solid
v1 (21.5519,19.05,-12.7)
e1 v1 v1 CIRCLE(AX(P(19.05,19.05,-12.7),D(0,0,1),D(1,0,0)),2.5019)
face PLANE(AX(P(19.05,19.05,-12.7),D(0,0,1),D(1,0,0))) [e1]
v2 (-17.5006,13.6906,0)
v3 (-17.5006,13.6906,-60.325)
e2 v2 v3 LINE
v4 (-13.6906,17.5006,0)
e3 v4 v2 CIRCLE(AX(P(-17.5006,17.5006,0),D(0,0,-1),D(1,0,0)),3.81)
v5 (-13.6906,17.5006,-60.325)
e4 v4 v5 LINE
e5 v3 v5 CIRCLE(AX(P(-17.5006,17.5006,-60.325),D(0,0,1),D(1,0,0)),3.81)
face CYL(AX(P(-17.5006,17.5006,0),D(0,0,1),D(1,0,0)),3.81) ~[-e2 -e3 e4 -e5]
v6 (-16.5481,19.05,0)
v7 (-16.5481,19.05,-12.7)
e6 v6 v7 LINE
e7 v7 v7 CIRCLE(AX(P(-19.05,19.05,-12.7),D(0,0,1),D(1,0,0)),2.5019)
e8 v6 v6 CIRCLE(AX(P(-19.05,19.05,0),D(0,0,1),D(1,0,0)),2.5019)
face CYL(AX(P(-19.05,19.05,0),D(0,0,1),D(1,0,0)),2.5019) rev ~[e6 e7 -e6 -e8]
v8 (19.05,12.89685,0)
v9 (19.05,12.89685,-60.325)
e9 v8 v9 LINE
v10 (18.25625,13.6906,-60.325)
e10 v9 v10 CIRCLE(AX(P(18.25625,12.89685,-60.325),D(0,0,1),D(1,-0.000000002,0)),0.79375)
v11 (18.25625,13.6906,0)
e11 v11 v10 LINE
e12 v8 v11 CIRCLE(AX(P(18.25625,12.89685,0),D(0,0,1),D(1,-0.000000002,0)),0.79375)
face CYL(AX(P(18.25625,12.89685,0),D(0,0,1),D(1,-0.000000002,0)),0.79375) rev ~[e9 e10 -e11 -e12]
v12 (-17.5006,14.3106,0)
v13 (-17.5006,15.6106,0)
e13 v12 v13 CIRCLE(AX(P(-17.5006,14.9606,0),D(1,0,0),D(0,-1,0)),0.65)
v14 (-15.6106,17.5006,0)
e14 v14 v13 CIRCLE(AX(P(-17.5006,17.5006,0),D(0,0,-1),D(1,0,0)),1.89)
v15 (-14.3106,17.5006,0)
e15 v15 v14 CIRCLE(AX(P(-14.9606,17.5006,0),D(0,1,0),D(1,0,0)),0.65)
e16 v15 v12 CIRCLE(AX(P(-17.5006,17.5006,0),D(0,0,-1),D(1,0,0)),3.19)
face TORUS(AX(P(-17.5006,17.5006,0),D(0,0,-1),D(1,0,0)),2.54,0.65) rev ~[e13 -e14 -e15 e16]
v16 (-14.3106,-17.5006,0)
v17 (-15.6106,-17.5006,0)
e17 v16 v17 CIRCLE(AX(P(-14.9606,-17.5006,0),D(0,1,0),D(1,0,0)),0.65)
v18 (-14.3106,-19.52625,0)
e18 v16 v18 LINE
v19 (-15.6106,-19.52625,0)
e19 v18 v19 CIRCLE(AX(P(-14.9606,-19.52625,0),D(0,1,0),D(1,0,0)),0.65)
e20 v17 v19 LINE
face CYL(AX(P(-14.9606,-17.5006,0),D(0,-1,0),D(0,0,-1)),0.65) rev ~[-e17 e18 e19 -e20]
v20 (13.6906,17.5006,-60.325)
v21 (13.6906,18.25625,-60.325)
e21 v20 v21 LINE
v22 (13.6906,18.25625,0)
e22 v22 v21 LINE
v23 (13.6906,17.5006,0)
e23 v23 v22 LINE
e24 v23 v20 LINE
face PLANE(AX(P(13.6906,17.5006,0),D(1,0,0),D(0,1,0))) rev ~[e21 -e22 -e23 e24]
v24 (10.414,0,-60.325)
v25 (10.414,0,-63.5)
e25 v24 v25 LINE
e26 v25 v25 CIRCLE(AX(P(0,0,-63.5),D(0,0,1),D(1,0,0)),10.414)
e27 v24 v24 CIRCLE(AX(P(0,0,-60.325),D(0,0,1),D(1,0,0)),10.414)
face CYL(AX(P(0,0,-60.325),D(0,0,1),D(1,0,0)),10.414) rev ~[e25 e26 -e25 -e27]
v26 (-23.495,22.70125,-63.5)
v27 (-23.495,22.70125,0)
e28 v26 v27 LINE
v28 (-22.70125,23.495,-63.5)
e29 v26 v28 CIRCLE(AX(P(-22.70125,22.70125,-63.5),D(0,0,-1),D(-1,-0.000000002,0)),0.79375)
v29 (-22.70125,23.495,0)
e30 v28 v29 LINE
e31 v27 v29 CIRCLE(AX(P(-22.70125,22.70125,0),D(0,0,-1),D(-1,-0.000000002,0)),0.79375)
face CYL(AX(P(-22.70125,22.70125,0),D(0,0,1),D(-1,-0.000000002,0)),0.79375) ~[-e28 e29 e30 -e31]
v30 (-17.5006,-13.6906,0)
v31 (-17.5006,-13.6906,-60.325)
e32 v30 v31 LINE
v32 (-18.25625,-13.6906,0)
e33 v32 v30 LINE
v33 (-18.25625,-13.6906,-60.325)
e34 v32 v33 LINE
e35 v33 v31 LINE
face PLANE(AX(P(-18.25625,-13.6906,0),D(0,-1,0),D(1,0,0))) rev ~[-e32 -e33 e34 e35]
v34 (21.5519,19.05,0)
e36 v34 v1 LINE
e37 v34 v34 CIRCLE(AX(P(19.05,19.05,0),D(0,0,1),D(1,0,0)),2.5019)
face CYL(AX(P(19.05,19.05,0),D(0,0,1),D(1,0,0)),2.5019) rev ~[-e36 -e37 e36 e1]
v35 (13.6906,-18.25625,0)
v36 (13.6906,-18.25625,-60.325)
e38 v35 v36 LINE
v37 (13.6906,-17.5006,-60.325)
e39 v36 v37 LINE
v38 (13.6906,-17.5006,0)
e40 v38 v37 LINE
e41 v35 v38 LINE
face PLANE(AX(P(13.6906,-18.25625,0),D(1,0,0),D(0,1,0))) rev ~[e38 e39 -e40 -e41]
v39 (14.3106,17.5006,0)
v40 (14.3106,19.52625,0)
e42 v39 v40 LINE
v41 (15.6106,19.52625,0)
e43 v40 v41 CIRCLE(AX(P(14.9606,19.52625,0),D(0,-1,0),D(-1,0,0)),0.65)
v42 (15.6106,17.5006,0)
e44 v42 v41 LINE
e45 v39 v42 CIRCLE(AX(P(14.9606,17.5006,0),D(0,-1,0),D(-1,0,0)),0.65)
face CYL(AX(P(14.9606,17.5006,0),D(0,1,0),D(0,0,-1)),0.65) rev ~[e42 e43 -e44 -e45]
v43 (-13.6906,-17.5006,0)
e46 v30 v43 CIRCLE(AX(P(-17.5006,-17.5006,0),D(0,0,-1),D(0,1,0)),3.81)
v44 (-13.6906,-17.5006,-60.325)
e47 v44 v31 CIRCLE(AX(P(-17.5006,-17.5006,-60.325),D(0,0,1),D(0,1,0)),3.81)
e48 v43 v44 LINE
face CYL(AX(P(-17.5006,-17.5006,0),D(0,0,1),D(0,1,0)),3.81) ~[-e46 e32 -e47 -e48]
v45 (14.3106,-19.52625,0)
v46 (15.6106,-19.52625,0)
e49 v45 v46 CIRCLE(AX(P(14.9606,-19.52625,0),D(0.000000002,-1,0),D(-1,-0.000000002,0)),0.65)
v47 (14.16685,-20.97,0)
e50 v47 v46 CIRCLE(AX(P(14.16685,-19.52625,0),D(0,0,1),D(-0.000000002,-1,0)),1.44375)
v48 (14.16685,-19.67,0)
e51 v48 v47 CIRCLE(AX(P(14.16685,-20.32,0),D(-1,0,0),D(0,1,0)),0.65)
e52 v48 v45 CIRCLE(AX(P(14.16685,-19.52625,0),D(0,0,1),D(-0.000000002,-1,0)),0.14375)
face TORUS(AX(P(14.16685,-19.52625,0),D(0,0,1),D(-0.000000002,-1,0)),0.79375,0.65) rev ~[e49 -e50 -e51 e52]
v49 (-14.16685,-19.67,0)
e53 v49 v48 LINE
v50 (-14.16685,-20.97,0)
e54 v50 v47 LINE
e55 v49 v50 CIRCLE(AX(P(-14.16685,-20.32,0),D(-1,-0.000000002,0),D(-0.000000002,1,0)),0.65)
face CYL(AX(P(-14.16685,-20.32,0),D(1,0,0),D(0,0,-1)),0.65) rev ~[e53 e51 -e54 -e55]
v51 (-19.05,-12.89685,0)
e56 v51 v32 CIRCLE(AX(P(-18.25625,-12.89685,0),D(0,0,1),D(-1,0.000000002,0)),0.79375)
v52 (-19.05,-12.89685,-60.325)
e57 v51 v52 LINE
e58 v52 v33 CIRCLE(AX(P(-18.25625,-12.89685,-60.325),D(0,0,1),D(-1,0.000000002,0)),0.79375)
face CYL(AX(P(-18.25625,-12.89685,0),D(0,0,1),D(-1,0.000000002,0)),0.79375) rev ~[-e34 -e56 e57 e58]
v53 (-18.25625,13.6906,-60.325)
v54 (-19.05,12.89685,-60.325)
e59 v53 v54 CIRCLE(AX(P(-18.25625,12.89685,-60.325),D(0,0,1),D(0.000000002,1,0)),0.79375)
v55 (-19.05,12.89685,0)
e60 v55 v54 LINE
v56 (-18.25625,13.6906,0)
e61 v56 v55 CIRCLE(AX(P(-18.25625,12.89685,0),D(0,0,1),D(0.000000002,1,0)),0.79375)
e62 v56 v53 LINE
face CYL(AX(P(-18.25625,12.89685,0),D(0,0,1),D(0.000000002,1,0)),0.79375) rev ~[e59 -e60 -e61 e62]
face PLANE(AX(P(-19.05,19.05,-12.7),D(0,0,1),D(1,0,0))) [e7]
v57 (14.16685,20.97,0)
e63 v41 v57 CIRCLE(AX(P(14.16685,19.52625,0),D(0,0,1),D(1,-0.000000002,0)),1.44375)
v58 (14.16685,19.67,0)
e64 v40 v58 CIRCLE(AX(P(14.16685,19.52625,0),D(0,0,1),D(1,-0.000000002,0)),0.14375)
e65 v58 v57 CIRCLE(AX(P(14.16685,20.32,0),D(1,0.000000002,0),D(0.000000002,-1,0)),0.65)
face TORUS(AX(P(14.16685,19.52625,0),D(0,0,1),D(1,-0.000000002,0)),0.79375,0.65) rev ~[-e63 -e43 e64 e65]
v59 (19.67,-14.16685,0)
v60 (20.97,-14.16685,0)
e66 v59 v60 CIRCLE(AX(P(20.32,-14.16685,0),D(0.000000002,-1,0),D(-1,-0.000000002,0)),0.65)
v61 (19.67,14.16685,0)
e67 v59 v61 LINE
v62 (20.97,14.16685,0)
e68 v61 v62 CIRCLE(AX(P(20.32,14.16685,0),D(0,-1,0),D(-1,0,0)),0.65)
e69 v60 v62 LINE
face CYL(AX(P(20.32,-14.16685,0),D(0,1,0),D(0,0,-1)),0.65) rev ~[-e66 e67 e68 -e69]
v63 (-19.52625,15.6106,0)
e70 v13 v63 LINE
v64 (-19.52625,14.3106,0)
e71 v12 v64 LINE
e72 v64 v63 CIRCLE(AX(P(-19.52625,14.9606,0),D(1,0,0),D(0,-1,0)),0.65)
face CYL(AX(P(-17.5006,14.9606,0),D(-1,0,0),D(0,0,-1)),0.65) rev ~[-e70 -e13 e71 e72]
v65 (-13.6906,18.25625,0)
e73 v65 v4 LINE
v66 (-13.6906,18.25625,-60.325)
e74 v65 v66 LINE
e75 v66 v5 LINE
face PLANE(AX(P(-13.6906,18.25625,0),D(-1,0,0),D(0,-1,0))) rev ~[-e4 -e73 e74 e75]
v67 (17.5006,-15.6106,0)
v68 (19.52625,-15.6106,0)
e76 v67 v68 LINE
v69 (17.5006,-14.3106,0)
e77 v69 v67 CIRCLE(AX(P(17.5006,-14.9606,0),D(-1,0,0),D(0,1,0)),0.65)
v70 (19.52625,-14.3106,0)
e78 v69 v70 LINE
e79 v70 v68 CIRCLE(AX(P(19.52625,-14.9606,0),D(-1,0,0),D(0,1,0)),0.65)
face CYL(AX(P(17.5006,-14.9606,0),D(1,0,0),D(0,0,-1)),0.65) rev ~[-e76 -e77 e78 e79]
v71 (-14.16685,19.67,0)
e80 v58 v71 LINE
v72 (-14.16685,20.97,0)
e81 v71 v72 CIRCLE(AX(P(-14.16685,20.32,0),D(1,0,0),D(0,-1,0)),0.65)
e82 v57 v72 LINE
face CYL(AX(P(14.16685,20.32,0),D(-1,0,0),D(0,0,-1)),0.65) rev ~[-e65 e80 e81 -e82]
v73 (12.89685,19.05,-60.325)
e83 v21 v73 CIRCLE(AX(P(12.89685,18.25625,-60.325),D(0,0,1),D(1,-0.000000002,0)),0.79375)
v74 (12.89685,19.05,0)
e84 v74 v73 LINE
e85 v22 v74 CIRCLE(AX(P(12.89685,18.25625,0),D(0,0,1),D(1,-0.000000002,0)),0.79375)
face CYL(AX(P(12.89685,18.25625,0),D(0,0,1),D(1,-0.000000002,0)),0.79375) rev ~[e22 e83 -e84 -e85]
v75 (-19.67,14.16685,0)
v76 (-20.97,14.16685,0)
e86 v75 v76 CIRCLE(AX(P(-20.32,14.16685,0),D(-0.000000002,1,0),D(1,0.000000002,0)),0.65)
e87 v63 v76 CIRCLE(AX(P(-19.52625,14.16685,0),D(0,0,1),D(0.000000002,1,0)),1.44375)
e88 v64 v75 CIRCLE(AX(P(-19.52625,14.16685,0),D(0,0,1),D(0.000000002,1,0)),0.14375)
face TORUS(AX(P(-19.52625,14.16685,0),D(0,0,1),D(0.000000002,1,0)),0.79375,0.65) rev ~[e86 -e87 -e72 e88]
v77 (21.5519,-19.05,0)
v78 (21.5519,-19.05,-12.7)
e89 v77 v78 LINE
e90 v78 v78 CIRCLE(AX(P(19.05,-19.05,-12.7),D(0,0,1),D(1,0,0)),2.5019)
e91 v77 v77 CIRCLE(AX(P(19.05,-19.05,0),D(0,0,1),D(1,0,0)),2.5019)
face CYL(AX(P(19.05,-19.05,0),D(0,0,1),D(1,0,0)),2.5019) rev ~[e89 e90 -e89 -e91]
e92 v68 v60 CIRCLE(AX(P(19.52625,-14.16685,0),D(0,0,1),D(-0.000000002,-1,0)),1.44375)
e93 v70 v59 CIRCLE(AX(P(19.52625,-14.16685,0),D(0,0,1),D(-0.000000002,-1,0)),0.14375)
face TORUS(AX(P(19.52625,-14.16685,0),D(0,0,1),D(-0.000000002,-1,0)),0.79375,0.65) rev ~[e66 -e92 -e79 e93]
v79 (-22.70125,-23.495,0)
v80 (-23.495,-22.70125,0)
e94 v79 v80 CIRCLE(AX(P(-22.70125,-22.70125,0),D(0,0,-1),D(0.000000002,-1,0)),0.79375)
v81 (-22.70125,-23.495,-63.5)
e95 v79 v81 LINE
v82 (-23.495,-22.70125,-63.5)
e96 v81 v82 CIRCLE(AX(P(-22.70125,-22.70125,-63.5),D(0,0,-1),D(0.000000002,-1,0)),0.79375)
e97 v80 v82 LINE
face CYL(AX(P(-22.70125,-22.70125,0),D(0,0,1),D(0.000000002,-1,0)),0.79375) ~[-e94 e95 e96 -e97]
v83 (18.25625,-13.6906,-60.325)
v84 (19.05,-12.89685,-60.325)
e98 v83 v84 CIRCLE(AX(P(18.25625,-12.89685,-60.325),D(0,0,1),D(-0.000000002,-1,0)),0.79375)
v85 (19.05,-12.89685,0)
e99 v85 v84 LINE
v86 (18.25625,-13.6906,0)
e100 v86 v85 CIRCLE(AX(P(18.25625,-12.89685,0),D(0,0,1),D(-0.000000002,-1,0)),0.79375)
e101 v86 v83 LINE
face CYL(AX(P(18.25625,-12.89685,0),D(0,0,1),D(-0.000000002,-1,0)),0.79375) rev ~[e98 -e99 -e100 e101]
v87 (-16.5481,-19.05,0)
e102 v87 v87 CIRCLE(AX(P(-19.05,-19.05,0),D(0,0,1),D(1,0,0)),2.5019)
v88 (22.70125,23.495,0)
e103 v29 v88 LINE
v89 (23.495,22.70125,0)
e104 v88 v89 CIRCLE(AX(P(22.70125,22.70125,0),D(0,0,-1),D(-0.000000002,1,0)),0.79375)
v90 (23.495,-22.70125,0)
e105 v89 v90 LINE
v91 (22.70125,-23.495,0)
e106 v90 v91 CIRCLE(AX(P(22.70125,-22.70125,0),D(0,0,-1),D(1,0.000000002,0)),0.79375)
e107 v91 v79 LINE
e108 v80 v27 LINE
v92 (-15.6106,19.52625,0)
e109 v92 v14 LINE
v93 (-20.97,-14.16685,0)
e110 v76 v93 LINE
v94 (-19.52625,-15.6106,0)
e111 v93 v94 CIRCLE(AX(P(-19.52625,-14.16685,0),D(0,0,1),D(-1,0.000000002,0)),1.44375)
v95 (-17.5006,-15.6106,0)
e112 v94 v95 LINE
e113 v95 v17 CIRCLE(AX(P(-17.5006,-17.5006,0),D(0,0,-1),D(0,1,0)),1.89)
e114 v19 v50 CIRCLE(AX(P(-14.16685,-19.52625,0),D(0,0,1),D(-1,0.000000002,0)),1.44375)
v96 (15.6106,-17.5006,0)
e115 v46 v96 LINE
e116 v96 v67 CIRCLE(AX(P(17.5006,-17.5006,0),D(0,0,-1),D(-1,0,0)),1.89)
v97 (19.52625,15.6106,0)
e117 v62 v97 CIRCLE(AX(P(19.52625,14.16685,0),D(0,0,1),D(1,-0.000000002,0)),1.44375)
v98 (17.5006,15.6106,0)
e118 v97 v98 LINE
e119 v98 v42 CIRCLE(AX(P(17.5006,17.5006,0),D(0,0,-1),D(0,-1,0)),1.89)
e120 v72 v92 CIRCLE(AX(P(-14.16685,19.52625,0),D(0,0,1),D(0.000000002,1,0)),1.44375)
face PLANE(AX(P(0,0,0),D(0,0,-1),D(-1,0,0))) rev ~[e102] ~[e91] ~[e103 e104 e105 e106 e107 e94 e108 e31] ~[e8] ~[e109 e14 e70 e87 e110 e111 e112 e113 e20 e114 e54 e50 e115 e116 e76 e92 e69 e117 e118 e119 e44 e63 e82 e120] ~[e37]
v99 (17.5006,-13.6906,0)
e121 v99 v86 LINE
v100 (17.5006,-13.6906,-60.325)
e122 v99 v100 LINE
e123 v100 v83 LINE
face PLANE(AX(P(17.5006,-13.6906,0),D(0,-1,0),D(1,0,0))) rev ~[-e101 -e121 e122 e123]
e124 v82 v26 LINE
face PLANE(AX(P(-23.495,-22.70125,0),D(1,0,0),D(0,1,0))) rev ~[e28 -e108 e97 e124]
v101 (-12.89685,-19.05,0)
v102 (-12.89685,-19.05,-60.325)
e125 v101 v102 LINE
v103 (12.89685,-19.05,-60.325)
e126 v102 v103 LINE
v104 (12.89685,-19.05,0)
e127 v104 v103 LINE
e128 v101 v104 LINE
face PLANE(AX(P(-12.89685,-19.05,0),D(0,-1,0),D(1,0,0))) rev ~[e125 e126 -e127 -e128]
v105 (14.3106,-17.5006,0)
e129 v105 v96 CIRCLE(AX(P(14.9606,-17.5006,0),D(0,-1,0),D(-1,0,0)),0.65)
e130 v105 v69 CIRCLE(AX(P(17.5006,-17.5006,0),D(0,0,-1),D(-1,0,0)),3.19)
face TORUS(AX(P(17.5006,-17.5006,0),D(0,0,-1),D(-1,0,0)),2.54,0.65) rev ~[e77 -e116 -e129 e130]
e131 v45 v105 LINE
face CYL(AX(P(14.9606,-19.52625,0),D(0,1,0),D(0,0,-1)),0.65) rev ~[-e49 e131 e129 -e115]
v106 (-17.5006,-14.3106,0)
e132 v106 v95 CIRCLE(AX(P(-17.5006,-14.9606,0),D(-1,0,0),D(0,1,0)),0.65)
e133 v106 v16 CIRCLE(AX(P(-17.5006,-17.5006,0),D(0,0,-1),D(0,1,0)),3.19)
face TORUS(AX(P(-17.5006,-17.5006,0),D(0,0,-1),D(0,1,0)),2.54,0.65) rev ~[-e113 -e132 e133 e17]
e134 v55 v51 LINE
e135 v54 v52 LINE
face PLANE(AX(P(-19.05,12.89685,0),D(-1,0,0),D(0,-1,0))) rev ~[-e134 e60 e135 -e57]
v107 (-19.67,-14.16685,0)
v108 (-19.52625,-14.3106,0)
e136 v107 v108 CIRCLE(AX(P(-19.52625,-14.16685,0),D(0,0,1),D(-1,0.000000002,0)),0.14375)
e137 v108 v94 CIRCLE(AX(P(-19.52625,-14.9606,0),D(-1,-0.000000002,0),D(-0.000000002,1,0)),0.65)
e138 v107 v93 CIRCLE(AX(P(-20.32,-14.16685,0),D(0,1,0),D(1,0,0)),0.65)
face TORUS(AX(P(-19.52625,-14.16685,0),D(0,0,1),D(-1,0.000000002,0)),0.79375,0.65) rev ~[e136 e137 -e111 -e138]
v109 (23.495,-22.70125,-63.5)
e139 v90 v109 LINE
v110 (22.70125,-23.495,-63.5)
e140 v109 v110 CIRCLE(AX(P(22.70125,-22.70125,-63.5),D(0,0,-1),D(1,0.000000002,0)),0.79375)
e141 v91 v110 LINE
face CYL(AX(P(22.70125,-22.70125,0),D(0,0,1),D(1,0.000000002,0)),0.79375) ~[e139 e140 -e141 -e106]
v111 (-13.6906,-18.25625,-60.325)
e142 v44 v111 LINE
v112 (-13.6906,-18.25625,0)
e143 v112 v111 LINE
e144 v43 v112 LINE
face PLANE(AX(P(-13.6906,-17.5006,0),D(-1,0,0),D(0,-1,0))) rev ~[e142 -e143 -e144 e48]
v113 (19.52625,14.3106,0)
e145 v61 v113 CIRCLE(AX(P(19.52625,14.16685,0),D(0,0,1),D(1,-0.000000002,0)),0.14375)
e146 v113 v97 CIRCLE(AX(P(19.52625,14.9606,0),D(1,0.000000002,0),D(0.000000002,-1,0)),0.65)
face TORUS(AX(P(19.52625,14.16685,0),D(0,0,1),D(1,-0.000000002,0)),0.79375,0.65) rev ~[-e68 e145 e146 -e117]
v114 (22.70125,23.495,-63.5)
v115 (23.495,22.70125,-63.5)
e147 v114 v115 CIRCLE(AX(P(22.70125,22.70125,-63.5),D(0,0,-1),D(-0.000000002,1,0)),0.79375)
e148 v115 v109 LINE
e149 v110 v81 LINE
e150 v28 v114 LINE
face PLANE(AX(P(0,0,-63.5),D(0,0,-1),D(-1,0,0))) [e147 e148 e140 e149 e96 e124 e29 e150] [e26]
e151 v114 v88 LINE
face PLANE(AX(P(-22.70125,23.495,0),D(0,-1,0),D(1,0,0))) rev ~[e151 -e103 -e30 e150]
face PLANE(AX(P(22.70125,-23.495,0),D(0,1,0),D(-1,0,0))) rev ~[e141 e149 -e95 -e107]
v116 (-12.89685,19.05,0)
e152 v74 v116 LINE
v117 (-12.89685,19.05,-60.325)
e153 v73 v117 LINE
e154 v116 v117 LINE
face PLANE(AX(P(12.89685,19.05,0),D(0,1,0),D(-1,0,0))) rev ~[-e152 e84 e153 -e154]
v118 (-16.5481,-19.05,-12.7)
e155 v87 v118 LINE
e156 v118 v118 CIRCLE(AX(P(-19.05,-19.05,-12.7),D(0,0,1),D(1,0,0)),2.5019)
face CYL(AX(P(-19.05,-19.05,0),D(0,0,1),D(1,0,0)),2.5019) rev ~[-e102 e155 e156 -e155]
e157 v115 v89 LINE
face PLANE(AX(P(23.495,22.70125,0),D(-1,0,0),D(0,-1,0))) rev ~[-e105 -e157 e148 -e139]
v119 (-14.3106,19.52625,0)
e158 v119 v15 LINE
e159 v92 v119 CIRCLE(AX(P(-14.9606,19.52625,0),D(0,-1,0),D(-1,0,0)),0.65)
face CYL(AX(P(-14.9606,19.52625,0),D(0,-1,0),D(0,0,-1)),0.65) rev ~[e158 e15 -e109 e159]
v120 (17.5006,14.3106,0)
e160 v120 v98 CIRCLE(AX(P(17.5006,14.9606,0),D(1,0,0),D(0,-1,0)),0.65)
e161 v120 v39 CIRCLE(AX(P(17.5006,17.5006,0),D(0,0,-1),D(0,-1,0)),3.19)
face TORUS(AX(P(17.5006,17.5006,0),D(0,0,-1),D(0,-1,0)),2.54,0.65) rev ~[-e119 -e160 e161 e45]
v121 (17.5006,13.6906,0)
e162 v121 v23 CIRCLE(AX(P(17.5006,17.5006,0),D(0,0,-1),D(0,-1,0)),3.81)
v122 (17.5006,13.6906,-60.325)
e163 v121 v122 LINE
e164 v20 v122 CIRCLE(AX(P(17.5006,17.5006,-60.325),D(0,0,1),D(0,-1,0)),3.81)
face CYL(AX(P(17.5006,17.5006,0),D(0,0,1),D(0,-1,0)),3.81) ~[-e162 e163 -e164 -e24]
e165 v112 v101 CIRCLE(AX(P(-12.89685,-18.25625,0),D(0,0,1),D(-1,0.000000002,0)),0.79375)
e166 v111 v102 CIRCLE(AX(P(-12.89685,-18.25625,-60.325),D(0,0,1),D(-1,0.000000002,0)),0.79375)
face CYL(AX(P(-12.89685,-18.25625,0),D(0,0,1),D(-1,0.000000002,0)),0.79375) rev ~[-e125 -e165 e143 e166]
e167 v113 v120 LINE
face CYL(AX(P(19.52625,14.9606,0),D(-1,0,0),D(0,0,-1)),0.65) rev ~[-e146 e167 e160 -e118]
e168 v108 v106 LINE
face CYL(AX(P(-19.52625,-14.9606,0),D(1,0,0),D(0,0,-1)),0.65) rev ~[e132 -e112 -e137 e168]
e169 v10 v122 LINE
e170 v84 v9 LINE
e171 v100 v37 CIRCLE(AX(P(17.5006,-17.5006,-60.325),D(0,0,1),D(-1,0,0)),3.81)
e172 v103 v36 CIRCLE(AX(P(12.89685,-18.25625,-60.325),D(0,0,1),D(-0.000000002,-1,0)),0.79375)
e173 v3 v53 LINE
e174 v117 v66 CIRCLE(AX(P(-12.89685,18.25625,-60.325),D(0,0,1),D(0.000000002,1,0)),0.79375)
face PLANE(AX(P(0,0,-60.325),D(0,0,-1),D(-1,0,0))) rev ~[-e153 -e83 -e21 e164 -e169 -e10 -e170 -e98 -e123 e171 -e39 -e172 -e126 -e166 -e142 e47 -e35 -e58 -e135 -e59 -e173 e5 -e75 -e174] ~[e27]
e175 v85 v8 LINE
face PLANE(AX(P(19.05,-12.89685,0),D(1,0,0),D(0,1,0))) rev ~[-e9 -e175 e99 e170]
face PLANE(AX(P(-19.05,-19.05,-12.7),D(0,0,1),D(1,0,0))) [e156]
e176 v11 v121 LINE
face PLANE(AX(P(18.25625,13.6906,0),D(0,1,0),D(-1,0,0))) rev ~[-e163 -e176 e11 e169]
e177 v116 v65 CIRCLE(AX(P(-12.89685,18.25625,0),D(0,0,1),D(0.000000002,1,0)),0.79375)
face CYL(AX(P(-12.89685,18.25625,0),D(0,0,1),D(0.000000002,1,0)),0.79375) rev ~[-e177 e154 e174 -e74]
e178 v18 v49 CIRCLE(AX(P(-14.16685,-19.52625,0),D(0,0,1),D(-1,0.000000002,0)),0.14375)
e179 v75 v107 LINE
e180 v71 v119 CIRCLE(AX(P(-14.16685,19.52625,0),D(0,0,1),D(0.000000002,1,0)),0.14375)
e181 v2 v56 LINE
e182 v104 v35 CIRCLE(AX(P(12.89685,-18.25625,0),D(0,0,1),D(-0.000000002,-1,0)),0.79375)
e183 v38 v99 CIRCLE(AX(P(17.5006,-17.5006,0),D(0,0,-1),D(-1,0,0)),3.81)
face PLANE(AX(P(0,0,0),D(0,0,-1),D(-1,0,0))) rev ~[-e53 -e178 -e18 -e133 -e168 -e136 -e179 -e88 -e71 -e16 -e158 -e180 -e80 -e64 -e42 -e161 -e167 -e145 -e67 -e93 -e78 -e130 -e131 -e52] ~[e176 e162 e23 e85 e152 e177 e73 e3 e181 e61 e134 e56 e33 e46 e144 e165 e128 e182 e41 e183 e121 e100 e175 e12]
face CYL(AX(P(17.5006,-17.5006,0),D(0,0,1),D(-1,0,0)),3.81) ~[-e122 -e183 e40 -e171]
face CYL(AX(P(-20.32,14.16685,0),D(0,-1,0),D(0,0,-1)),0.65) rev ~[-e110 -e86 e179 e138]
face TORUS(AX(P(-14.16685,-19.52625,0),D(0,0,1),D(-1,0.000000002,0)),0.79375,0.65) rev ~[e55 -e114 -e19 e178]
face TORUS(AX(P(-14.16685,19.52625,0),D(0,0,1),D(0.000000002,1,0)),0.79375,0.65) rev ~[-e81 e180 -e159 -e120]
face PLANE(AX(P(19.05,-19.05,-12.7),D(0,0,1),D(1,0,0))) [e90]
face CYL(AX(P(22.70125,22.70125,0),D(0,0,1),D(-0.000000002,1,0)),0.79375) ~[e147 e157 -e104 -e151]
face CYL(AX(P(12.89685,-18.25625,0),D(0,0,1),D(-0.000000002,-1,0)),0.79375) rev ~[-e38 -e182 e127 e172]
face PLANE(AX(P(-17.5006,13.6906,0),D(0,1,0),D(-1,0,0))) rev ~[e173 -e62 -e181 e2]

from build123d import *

# Parameters (mm, degrees)
BOSS_EXTRUDE1_DEPTH = 63.5
SKETCH7_R           = 0.65
SKETCH10_R          = 2.5019
CUT_EXTRUDE3_DEPTH  = 12.7
BOSS_EXTRUDE2_START = -60.325
SKETCH12_R          = 10.414
BOSS_EXTRUDE2_DEPTH = 3.175


with BuildPart() as part:
    # Sketch1 → Boss-Extrude1 (new body)
    with BuildSketch(Plane.XY):
        with BuildLine():
            Line((23.495, 22.70125), (23.495, -22.70125))
            ThreePointArc((23.495, -22.70125), (23.262516008, -23.262516008), (22.70125, -23.495))
            Line((22.70125, -23.495), (-22.70125, -23.495))
            ThreePointArc((-22.70125, -23.495), (-23.262516008, -23.262516008), (-23.495, -22.70125))
            Line((-23.495, -22.70125), (-23.495, 22.70125))
            ThreePointArc((-23.495, 22.70125), (-23.262516008, 23.262516008), (-22.70125, 23.495))
            Line((-22.70125, 23.495), (22.70125, 23.495))
            ThreePointArc((22.70125, 23.495), (23.262516008, 23.262516008), (23.495, 22.70125))
        make_face()
        with BuildLine():
            Line((-12.89685, -19.05), (12.89685, -19.05))
            ThreePointArc((12.89685, -19.05), (13.458116008, -18.817516008), (13.6906, -18.25625))
            Line((13.6906, -18.25625), (13.6906, -17.5006))
            ThreePointArc((13.6906, -17.5006), (14.806523164, -14.806523164), (17.5006, -13.6906))
            Line((17.5006, -13.6906), (18.25625, -13.6906))
            ThreePointArc((18.25625, -13.6906), (18.817516008, -13.458116008), (19.05, -12.89685))
            Line((19.05, -12.89685), (19.05, 12.89685))
            ThreePointArc((19.05, 12.89685), (18.817516008, 13.458116008), (18.25625, 13.6906))
            Line((18.25625, 13.6906), (17.5006, 13.6906))
            ThreePointArc((17.5006, 13.6906), (14.806523164, 14.806523164), (13.6906, 17.5006))
            Line((13.6906, 17.5006), (13.6906, 18.25625))
            ThreePointArc((13.6906, 18.25625), (13.458116008, 18.817516008), (12.89685, 19.05))
            Line((12.89685, 19.05), (-12.89685, 19.05))
            ThreePointArc((-12.89685, 19.05), (-13.458116008, 18.817516008), (-13.6906, 18.25625))
            Line((-13.6906, 18.25625), (-13.6906, 17.5006))
            ThreePointArc((-13.6906, 17.5006), (-14.806523164, 14.806523164), (-17.5006, 13.6906))
            Line((-17.5006, 13.6906), (-18.25625, 13.6906))
            ThreePointArc((-18.25625, 13.6906), (-18.817516008, 13.458116008), (-19.05, 12.89685))
            Line((-19.05, 12.89685), (-19.05, -12.89685))
            ThreePointArc((-19.05, -12.89685), (-18.817516008, -13.458116008), (-18.25625, -13.6906))
            Line((-18.25625, -13.6906), (-17.5006, -13.6906))
            ThreePointArc((-17.5006, -13.6906), (-14.806523164, -14.806523164), (-13.6906, -17.5006))
            Line((-13.6906, -17.5006), (-13.6906, -18.25625))
            ThreePointArc((-13.6906, -18.25625), (-13.458116008, -18.817516008), (-12.89685, -19.05))
        make_face(mode=Mode.SUBTRACT)
    extrude(amount=-BOSS_EXTRUDE1_DEPTH)

    # Cut-Sweep2: sweep along a path in Sketch11
    with BuildLine(Plane.XY) as cut_sweep2_path:
        Line((-14.9606, 19.52625), (-14.9606, 17.5006))
        ThreePointArc((-14.9606, 17.5006), (-15.704548776, 15.704548776), (-17.5006, 14.9606))
        Line((-17.5006, 14.9606), (-19.52625, 14.9606))
        ThreePointArc((-19.52625, 14.9606), (-20.087516008, 14.728116008), (-20.32, 14.16685))
        Line((-20.32, 14.16685), (-20.32, 12.89685))
        Line((-20.32, 12.89685), (-20.32, -12.89685))
        Line((-20.32, -12.89685), (-20.32, -14.16685))
        ThreePointArc((-20.32, -14.16685), (-20.087516008, -14.728116008), (-19.52625, -14.9606))
        Line((-19.52625, -14.9606), (-17.5006, -14.9606))
        ThreePointArc((-17.5006, -14.9606), (-15.704548776, -15.704548776), (-14.9606, -17.5006))
        Line((-14.9606, -17.5006), (-14.9606, -19.52625))
        ThreePointArc((-14.9606, -19.52625), (-14.728116008, -20.087516008), (-14.16685, -20.32))
        Line((-14.16685, -20.32), (-12.89685, -20.32))
        Line((-12.89685, -20.32), (12.89685, -20.32))
        Line((12.89685, -20.32), (14.16685, -20.32))
        ThreePointArc((14.16685, -20.32), (14.728116008, -20.087516008), (14.9606, -19.52625))
        Line((14.9606, -19.52625), (14.9606, -17.5006))
        ThreePointArc((14.9606, -17.5006), (15.704548776, -15.704548776), (17.5006, -14.9606))
        Line((17.5006, -14.9606), (19.52625, -14.9606))
        ThreePointArc((19.52625, -14.9606), (20.087516008, -14.728116008), (20.32, -14.16685))
        Line((20.32, -14.16685), (20.32, -12.89685))
        Line((20.32, -12.89685), (20.32, 12.89685))
        Line((20.32, 12.89685), (20.32, 14.16685))
        ThreePointArc((20.32, 14.16685), (20.087516008, 14.728116008), (19.52625, 14.9606))
        Line((19.52625, 14.9606), (17.5006, 14.9606))
        ThreePointArc((17.5006, 14.9606), (15.704548776, 15.704548776), (14.9606, 17.5006))
        Line((14.9606, 17.5006), (14.9606, 19.52625))
        ThreePointArc((14.9606, 19.52625), (14.728116008, 20.087516008), (14.16685, 20.32))
        Line((14.16685, 20.32), (12.89685, 20.32))
        Line((12.89685, 20.32), (-12.89685, 20.32))
        Line((-12.89685, 20.32), (-14.16685, 20.32))
        ThreePointArc((-14.16685, 20.32), (-14.728116008, 20.087516008), (-14.9606, 19.52625))
    # Sketch7 → Cut-Sweep2 (sweep, cut)
    with BuildSketch(Plane(origin=(0, 0, 0), x_dir=(0, 0, -1), z_dir=(1, 0, 0))):
        with Locations((0, 20.32)):
            Circle(SKETCH7_R)
    sweep(path=cut_sweep2_path.line, mode=Mode.SUBTRACT)

    # Sketch10 → Cut-Extrude3 (cut)
    with BuildSketch(Plane.XY):
        with Locations((19.05, 19.05)):
            Circle(SKETCH10_R)
        with Locations((19.05, -19.05)):
            Circle(SKETCH10_R)
        with Locations((-19.05, -19.05)):
            Circle(SKETCH10_R)
        with Locations((-19.05, 19.05)):
            Circle(SKETCH10_R)
    extrude(amount=-CUT_EXTRUDE3_DEPTH, mode=Mode.SUBTRACT)

    # Sketch12 → Boss-Extrude2 (add)
    with BuildSketch(Plane.XY.offset(BOSS_EXTRUDE2_START)):
        with BuildLine():
            Line((23.495, 22.70125), (23.495, -22.70125))
            ThreePointArc((23.495, -22.70125), (23.262516008, -23.262516008), (22.70125, -23.495))
            Line((22.70125, -23.495), (-22.70125, -23.495))
            ThreePointArc((-22.70125, -23.495), (-23.262516008, -23.262516008), (-23.495, -22.70125))
            Line((-23.495, -22.70125), (-23.495, 22.70125))
            ThreePointArc((-23.495, 22.70125), (-23.262516008, 23.262516008), (-22.70125, 23.495))
            Line((-22.70125, 23.495), (22.70125, 23.495))
            ThreePointArc((22.70125, 23.495), (23.262516008, 23.262516008), (23.495, 22.70125))
        make_face()
        Circle(SKETCH12_R, mode=Mode.SUBTRACT)
    extrude(amount=-BOSS_EXTRUDE2_DEPTH)


solid = part.part
